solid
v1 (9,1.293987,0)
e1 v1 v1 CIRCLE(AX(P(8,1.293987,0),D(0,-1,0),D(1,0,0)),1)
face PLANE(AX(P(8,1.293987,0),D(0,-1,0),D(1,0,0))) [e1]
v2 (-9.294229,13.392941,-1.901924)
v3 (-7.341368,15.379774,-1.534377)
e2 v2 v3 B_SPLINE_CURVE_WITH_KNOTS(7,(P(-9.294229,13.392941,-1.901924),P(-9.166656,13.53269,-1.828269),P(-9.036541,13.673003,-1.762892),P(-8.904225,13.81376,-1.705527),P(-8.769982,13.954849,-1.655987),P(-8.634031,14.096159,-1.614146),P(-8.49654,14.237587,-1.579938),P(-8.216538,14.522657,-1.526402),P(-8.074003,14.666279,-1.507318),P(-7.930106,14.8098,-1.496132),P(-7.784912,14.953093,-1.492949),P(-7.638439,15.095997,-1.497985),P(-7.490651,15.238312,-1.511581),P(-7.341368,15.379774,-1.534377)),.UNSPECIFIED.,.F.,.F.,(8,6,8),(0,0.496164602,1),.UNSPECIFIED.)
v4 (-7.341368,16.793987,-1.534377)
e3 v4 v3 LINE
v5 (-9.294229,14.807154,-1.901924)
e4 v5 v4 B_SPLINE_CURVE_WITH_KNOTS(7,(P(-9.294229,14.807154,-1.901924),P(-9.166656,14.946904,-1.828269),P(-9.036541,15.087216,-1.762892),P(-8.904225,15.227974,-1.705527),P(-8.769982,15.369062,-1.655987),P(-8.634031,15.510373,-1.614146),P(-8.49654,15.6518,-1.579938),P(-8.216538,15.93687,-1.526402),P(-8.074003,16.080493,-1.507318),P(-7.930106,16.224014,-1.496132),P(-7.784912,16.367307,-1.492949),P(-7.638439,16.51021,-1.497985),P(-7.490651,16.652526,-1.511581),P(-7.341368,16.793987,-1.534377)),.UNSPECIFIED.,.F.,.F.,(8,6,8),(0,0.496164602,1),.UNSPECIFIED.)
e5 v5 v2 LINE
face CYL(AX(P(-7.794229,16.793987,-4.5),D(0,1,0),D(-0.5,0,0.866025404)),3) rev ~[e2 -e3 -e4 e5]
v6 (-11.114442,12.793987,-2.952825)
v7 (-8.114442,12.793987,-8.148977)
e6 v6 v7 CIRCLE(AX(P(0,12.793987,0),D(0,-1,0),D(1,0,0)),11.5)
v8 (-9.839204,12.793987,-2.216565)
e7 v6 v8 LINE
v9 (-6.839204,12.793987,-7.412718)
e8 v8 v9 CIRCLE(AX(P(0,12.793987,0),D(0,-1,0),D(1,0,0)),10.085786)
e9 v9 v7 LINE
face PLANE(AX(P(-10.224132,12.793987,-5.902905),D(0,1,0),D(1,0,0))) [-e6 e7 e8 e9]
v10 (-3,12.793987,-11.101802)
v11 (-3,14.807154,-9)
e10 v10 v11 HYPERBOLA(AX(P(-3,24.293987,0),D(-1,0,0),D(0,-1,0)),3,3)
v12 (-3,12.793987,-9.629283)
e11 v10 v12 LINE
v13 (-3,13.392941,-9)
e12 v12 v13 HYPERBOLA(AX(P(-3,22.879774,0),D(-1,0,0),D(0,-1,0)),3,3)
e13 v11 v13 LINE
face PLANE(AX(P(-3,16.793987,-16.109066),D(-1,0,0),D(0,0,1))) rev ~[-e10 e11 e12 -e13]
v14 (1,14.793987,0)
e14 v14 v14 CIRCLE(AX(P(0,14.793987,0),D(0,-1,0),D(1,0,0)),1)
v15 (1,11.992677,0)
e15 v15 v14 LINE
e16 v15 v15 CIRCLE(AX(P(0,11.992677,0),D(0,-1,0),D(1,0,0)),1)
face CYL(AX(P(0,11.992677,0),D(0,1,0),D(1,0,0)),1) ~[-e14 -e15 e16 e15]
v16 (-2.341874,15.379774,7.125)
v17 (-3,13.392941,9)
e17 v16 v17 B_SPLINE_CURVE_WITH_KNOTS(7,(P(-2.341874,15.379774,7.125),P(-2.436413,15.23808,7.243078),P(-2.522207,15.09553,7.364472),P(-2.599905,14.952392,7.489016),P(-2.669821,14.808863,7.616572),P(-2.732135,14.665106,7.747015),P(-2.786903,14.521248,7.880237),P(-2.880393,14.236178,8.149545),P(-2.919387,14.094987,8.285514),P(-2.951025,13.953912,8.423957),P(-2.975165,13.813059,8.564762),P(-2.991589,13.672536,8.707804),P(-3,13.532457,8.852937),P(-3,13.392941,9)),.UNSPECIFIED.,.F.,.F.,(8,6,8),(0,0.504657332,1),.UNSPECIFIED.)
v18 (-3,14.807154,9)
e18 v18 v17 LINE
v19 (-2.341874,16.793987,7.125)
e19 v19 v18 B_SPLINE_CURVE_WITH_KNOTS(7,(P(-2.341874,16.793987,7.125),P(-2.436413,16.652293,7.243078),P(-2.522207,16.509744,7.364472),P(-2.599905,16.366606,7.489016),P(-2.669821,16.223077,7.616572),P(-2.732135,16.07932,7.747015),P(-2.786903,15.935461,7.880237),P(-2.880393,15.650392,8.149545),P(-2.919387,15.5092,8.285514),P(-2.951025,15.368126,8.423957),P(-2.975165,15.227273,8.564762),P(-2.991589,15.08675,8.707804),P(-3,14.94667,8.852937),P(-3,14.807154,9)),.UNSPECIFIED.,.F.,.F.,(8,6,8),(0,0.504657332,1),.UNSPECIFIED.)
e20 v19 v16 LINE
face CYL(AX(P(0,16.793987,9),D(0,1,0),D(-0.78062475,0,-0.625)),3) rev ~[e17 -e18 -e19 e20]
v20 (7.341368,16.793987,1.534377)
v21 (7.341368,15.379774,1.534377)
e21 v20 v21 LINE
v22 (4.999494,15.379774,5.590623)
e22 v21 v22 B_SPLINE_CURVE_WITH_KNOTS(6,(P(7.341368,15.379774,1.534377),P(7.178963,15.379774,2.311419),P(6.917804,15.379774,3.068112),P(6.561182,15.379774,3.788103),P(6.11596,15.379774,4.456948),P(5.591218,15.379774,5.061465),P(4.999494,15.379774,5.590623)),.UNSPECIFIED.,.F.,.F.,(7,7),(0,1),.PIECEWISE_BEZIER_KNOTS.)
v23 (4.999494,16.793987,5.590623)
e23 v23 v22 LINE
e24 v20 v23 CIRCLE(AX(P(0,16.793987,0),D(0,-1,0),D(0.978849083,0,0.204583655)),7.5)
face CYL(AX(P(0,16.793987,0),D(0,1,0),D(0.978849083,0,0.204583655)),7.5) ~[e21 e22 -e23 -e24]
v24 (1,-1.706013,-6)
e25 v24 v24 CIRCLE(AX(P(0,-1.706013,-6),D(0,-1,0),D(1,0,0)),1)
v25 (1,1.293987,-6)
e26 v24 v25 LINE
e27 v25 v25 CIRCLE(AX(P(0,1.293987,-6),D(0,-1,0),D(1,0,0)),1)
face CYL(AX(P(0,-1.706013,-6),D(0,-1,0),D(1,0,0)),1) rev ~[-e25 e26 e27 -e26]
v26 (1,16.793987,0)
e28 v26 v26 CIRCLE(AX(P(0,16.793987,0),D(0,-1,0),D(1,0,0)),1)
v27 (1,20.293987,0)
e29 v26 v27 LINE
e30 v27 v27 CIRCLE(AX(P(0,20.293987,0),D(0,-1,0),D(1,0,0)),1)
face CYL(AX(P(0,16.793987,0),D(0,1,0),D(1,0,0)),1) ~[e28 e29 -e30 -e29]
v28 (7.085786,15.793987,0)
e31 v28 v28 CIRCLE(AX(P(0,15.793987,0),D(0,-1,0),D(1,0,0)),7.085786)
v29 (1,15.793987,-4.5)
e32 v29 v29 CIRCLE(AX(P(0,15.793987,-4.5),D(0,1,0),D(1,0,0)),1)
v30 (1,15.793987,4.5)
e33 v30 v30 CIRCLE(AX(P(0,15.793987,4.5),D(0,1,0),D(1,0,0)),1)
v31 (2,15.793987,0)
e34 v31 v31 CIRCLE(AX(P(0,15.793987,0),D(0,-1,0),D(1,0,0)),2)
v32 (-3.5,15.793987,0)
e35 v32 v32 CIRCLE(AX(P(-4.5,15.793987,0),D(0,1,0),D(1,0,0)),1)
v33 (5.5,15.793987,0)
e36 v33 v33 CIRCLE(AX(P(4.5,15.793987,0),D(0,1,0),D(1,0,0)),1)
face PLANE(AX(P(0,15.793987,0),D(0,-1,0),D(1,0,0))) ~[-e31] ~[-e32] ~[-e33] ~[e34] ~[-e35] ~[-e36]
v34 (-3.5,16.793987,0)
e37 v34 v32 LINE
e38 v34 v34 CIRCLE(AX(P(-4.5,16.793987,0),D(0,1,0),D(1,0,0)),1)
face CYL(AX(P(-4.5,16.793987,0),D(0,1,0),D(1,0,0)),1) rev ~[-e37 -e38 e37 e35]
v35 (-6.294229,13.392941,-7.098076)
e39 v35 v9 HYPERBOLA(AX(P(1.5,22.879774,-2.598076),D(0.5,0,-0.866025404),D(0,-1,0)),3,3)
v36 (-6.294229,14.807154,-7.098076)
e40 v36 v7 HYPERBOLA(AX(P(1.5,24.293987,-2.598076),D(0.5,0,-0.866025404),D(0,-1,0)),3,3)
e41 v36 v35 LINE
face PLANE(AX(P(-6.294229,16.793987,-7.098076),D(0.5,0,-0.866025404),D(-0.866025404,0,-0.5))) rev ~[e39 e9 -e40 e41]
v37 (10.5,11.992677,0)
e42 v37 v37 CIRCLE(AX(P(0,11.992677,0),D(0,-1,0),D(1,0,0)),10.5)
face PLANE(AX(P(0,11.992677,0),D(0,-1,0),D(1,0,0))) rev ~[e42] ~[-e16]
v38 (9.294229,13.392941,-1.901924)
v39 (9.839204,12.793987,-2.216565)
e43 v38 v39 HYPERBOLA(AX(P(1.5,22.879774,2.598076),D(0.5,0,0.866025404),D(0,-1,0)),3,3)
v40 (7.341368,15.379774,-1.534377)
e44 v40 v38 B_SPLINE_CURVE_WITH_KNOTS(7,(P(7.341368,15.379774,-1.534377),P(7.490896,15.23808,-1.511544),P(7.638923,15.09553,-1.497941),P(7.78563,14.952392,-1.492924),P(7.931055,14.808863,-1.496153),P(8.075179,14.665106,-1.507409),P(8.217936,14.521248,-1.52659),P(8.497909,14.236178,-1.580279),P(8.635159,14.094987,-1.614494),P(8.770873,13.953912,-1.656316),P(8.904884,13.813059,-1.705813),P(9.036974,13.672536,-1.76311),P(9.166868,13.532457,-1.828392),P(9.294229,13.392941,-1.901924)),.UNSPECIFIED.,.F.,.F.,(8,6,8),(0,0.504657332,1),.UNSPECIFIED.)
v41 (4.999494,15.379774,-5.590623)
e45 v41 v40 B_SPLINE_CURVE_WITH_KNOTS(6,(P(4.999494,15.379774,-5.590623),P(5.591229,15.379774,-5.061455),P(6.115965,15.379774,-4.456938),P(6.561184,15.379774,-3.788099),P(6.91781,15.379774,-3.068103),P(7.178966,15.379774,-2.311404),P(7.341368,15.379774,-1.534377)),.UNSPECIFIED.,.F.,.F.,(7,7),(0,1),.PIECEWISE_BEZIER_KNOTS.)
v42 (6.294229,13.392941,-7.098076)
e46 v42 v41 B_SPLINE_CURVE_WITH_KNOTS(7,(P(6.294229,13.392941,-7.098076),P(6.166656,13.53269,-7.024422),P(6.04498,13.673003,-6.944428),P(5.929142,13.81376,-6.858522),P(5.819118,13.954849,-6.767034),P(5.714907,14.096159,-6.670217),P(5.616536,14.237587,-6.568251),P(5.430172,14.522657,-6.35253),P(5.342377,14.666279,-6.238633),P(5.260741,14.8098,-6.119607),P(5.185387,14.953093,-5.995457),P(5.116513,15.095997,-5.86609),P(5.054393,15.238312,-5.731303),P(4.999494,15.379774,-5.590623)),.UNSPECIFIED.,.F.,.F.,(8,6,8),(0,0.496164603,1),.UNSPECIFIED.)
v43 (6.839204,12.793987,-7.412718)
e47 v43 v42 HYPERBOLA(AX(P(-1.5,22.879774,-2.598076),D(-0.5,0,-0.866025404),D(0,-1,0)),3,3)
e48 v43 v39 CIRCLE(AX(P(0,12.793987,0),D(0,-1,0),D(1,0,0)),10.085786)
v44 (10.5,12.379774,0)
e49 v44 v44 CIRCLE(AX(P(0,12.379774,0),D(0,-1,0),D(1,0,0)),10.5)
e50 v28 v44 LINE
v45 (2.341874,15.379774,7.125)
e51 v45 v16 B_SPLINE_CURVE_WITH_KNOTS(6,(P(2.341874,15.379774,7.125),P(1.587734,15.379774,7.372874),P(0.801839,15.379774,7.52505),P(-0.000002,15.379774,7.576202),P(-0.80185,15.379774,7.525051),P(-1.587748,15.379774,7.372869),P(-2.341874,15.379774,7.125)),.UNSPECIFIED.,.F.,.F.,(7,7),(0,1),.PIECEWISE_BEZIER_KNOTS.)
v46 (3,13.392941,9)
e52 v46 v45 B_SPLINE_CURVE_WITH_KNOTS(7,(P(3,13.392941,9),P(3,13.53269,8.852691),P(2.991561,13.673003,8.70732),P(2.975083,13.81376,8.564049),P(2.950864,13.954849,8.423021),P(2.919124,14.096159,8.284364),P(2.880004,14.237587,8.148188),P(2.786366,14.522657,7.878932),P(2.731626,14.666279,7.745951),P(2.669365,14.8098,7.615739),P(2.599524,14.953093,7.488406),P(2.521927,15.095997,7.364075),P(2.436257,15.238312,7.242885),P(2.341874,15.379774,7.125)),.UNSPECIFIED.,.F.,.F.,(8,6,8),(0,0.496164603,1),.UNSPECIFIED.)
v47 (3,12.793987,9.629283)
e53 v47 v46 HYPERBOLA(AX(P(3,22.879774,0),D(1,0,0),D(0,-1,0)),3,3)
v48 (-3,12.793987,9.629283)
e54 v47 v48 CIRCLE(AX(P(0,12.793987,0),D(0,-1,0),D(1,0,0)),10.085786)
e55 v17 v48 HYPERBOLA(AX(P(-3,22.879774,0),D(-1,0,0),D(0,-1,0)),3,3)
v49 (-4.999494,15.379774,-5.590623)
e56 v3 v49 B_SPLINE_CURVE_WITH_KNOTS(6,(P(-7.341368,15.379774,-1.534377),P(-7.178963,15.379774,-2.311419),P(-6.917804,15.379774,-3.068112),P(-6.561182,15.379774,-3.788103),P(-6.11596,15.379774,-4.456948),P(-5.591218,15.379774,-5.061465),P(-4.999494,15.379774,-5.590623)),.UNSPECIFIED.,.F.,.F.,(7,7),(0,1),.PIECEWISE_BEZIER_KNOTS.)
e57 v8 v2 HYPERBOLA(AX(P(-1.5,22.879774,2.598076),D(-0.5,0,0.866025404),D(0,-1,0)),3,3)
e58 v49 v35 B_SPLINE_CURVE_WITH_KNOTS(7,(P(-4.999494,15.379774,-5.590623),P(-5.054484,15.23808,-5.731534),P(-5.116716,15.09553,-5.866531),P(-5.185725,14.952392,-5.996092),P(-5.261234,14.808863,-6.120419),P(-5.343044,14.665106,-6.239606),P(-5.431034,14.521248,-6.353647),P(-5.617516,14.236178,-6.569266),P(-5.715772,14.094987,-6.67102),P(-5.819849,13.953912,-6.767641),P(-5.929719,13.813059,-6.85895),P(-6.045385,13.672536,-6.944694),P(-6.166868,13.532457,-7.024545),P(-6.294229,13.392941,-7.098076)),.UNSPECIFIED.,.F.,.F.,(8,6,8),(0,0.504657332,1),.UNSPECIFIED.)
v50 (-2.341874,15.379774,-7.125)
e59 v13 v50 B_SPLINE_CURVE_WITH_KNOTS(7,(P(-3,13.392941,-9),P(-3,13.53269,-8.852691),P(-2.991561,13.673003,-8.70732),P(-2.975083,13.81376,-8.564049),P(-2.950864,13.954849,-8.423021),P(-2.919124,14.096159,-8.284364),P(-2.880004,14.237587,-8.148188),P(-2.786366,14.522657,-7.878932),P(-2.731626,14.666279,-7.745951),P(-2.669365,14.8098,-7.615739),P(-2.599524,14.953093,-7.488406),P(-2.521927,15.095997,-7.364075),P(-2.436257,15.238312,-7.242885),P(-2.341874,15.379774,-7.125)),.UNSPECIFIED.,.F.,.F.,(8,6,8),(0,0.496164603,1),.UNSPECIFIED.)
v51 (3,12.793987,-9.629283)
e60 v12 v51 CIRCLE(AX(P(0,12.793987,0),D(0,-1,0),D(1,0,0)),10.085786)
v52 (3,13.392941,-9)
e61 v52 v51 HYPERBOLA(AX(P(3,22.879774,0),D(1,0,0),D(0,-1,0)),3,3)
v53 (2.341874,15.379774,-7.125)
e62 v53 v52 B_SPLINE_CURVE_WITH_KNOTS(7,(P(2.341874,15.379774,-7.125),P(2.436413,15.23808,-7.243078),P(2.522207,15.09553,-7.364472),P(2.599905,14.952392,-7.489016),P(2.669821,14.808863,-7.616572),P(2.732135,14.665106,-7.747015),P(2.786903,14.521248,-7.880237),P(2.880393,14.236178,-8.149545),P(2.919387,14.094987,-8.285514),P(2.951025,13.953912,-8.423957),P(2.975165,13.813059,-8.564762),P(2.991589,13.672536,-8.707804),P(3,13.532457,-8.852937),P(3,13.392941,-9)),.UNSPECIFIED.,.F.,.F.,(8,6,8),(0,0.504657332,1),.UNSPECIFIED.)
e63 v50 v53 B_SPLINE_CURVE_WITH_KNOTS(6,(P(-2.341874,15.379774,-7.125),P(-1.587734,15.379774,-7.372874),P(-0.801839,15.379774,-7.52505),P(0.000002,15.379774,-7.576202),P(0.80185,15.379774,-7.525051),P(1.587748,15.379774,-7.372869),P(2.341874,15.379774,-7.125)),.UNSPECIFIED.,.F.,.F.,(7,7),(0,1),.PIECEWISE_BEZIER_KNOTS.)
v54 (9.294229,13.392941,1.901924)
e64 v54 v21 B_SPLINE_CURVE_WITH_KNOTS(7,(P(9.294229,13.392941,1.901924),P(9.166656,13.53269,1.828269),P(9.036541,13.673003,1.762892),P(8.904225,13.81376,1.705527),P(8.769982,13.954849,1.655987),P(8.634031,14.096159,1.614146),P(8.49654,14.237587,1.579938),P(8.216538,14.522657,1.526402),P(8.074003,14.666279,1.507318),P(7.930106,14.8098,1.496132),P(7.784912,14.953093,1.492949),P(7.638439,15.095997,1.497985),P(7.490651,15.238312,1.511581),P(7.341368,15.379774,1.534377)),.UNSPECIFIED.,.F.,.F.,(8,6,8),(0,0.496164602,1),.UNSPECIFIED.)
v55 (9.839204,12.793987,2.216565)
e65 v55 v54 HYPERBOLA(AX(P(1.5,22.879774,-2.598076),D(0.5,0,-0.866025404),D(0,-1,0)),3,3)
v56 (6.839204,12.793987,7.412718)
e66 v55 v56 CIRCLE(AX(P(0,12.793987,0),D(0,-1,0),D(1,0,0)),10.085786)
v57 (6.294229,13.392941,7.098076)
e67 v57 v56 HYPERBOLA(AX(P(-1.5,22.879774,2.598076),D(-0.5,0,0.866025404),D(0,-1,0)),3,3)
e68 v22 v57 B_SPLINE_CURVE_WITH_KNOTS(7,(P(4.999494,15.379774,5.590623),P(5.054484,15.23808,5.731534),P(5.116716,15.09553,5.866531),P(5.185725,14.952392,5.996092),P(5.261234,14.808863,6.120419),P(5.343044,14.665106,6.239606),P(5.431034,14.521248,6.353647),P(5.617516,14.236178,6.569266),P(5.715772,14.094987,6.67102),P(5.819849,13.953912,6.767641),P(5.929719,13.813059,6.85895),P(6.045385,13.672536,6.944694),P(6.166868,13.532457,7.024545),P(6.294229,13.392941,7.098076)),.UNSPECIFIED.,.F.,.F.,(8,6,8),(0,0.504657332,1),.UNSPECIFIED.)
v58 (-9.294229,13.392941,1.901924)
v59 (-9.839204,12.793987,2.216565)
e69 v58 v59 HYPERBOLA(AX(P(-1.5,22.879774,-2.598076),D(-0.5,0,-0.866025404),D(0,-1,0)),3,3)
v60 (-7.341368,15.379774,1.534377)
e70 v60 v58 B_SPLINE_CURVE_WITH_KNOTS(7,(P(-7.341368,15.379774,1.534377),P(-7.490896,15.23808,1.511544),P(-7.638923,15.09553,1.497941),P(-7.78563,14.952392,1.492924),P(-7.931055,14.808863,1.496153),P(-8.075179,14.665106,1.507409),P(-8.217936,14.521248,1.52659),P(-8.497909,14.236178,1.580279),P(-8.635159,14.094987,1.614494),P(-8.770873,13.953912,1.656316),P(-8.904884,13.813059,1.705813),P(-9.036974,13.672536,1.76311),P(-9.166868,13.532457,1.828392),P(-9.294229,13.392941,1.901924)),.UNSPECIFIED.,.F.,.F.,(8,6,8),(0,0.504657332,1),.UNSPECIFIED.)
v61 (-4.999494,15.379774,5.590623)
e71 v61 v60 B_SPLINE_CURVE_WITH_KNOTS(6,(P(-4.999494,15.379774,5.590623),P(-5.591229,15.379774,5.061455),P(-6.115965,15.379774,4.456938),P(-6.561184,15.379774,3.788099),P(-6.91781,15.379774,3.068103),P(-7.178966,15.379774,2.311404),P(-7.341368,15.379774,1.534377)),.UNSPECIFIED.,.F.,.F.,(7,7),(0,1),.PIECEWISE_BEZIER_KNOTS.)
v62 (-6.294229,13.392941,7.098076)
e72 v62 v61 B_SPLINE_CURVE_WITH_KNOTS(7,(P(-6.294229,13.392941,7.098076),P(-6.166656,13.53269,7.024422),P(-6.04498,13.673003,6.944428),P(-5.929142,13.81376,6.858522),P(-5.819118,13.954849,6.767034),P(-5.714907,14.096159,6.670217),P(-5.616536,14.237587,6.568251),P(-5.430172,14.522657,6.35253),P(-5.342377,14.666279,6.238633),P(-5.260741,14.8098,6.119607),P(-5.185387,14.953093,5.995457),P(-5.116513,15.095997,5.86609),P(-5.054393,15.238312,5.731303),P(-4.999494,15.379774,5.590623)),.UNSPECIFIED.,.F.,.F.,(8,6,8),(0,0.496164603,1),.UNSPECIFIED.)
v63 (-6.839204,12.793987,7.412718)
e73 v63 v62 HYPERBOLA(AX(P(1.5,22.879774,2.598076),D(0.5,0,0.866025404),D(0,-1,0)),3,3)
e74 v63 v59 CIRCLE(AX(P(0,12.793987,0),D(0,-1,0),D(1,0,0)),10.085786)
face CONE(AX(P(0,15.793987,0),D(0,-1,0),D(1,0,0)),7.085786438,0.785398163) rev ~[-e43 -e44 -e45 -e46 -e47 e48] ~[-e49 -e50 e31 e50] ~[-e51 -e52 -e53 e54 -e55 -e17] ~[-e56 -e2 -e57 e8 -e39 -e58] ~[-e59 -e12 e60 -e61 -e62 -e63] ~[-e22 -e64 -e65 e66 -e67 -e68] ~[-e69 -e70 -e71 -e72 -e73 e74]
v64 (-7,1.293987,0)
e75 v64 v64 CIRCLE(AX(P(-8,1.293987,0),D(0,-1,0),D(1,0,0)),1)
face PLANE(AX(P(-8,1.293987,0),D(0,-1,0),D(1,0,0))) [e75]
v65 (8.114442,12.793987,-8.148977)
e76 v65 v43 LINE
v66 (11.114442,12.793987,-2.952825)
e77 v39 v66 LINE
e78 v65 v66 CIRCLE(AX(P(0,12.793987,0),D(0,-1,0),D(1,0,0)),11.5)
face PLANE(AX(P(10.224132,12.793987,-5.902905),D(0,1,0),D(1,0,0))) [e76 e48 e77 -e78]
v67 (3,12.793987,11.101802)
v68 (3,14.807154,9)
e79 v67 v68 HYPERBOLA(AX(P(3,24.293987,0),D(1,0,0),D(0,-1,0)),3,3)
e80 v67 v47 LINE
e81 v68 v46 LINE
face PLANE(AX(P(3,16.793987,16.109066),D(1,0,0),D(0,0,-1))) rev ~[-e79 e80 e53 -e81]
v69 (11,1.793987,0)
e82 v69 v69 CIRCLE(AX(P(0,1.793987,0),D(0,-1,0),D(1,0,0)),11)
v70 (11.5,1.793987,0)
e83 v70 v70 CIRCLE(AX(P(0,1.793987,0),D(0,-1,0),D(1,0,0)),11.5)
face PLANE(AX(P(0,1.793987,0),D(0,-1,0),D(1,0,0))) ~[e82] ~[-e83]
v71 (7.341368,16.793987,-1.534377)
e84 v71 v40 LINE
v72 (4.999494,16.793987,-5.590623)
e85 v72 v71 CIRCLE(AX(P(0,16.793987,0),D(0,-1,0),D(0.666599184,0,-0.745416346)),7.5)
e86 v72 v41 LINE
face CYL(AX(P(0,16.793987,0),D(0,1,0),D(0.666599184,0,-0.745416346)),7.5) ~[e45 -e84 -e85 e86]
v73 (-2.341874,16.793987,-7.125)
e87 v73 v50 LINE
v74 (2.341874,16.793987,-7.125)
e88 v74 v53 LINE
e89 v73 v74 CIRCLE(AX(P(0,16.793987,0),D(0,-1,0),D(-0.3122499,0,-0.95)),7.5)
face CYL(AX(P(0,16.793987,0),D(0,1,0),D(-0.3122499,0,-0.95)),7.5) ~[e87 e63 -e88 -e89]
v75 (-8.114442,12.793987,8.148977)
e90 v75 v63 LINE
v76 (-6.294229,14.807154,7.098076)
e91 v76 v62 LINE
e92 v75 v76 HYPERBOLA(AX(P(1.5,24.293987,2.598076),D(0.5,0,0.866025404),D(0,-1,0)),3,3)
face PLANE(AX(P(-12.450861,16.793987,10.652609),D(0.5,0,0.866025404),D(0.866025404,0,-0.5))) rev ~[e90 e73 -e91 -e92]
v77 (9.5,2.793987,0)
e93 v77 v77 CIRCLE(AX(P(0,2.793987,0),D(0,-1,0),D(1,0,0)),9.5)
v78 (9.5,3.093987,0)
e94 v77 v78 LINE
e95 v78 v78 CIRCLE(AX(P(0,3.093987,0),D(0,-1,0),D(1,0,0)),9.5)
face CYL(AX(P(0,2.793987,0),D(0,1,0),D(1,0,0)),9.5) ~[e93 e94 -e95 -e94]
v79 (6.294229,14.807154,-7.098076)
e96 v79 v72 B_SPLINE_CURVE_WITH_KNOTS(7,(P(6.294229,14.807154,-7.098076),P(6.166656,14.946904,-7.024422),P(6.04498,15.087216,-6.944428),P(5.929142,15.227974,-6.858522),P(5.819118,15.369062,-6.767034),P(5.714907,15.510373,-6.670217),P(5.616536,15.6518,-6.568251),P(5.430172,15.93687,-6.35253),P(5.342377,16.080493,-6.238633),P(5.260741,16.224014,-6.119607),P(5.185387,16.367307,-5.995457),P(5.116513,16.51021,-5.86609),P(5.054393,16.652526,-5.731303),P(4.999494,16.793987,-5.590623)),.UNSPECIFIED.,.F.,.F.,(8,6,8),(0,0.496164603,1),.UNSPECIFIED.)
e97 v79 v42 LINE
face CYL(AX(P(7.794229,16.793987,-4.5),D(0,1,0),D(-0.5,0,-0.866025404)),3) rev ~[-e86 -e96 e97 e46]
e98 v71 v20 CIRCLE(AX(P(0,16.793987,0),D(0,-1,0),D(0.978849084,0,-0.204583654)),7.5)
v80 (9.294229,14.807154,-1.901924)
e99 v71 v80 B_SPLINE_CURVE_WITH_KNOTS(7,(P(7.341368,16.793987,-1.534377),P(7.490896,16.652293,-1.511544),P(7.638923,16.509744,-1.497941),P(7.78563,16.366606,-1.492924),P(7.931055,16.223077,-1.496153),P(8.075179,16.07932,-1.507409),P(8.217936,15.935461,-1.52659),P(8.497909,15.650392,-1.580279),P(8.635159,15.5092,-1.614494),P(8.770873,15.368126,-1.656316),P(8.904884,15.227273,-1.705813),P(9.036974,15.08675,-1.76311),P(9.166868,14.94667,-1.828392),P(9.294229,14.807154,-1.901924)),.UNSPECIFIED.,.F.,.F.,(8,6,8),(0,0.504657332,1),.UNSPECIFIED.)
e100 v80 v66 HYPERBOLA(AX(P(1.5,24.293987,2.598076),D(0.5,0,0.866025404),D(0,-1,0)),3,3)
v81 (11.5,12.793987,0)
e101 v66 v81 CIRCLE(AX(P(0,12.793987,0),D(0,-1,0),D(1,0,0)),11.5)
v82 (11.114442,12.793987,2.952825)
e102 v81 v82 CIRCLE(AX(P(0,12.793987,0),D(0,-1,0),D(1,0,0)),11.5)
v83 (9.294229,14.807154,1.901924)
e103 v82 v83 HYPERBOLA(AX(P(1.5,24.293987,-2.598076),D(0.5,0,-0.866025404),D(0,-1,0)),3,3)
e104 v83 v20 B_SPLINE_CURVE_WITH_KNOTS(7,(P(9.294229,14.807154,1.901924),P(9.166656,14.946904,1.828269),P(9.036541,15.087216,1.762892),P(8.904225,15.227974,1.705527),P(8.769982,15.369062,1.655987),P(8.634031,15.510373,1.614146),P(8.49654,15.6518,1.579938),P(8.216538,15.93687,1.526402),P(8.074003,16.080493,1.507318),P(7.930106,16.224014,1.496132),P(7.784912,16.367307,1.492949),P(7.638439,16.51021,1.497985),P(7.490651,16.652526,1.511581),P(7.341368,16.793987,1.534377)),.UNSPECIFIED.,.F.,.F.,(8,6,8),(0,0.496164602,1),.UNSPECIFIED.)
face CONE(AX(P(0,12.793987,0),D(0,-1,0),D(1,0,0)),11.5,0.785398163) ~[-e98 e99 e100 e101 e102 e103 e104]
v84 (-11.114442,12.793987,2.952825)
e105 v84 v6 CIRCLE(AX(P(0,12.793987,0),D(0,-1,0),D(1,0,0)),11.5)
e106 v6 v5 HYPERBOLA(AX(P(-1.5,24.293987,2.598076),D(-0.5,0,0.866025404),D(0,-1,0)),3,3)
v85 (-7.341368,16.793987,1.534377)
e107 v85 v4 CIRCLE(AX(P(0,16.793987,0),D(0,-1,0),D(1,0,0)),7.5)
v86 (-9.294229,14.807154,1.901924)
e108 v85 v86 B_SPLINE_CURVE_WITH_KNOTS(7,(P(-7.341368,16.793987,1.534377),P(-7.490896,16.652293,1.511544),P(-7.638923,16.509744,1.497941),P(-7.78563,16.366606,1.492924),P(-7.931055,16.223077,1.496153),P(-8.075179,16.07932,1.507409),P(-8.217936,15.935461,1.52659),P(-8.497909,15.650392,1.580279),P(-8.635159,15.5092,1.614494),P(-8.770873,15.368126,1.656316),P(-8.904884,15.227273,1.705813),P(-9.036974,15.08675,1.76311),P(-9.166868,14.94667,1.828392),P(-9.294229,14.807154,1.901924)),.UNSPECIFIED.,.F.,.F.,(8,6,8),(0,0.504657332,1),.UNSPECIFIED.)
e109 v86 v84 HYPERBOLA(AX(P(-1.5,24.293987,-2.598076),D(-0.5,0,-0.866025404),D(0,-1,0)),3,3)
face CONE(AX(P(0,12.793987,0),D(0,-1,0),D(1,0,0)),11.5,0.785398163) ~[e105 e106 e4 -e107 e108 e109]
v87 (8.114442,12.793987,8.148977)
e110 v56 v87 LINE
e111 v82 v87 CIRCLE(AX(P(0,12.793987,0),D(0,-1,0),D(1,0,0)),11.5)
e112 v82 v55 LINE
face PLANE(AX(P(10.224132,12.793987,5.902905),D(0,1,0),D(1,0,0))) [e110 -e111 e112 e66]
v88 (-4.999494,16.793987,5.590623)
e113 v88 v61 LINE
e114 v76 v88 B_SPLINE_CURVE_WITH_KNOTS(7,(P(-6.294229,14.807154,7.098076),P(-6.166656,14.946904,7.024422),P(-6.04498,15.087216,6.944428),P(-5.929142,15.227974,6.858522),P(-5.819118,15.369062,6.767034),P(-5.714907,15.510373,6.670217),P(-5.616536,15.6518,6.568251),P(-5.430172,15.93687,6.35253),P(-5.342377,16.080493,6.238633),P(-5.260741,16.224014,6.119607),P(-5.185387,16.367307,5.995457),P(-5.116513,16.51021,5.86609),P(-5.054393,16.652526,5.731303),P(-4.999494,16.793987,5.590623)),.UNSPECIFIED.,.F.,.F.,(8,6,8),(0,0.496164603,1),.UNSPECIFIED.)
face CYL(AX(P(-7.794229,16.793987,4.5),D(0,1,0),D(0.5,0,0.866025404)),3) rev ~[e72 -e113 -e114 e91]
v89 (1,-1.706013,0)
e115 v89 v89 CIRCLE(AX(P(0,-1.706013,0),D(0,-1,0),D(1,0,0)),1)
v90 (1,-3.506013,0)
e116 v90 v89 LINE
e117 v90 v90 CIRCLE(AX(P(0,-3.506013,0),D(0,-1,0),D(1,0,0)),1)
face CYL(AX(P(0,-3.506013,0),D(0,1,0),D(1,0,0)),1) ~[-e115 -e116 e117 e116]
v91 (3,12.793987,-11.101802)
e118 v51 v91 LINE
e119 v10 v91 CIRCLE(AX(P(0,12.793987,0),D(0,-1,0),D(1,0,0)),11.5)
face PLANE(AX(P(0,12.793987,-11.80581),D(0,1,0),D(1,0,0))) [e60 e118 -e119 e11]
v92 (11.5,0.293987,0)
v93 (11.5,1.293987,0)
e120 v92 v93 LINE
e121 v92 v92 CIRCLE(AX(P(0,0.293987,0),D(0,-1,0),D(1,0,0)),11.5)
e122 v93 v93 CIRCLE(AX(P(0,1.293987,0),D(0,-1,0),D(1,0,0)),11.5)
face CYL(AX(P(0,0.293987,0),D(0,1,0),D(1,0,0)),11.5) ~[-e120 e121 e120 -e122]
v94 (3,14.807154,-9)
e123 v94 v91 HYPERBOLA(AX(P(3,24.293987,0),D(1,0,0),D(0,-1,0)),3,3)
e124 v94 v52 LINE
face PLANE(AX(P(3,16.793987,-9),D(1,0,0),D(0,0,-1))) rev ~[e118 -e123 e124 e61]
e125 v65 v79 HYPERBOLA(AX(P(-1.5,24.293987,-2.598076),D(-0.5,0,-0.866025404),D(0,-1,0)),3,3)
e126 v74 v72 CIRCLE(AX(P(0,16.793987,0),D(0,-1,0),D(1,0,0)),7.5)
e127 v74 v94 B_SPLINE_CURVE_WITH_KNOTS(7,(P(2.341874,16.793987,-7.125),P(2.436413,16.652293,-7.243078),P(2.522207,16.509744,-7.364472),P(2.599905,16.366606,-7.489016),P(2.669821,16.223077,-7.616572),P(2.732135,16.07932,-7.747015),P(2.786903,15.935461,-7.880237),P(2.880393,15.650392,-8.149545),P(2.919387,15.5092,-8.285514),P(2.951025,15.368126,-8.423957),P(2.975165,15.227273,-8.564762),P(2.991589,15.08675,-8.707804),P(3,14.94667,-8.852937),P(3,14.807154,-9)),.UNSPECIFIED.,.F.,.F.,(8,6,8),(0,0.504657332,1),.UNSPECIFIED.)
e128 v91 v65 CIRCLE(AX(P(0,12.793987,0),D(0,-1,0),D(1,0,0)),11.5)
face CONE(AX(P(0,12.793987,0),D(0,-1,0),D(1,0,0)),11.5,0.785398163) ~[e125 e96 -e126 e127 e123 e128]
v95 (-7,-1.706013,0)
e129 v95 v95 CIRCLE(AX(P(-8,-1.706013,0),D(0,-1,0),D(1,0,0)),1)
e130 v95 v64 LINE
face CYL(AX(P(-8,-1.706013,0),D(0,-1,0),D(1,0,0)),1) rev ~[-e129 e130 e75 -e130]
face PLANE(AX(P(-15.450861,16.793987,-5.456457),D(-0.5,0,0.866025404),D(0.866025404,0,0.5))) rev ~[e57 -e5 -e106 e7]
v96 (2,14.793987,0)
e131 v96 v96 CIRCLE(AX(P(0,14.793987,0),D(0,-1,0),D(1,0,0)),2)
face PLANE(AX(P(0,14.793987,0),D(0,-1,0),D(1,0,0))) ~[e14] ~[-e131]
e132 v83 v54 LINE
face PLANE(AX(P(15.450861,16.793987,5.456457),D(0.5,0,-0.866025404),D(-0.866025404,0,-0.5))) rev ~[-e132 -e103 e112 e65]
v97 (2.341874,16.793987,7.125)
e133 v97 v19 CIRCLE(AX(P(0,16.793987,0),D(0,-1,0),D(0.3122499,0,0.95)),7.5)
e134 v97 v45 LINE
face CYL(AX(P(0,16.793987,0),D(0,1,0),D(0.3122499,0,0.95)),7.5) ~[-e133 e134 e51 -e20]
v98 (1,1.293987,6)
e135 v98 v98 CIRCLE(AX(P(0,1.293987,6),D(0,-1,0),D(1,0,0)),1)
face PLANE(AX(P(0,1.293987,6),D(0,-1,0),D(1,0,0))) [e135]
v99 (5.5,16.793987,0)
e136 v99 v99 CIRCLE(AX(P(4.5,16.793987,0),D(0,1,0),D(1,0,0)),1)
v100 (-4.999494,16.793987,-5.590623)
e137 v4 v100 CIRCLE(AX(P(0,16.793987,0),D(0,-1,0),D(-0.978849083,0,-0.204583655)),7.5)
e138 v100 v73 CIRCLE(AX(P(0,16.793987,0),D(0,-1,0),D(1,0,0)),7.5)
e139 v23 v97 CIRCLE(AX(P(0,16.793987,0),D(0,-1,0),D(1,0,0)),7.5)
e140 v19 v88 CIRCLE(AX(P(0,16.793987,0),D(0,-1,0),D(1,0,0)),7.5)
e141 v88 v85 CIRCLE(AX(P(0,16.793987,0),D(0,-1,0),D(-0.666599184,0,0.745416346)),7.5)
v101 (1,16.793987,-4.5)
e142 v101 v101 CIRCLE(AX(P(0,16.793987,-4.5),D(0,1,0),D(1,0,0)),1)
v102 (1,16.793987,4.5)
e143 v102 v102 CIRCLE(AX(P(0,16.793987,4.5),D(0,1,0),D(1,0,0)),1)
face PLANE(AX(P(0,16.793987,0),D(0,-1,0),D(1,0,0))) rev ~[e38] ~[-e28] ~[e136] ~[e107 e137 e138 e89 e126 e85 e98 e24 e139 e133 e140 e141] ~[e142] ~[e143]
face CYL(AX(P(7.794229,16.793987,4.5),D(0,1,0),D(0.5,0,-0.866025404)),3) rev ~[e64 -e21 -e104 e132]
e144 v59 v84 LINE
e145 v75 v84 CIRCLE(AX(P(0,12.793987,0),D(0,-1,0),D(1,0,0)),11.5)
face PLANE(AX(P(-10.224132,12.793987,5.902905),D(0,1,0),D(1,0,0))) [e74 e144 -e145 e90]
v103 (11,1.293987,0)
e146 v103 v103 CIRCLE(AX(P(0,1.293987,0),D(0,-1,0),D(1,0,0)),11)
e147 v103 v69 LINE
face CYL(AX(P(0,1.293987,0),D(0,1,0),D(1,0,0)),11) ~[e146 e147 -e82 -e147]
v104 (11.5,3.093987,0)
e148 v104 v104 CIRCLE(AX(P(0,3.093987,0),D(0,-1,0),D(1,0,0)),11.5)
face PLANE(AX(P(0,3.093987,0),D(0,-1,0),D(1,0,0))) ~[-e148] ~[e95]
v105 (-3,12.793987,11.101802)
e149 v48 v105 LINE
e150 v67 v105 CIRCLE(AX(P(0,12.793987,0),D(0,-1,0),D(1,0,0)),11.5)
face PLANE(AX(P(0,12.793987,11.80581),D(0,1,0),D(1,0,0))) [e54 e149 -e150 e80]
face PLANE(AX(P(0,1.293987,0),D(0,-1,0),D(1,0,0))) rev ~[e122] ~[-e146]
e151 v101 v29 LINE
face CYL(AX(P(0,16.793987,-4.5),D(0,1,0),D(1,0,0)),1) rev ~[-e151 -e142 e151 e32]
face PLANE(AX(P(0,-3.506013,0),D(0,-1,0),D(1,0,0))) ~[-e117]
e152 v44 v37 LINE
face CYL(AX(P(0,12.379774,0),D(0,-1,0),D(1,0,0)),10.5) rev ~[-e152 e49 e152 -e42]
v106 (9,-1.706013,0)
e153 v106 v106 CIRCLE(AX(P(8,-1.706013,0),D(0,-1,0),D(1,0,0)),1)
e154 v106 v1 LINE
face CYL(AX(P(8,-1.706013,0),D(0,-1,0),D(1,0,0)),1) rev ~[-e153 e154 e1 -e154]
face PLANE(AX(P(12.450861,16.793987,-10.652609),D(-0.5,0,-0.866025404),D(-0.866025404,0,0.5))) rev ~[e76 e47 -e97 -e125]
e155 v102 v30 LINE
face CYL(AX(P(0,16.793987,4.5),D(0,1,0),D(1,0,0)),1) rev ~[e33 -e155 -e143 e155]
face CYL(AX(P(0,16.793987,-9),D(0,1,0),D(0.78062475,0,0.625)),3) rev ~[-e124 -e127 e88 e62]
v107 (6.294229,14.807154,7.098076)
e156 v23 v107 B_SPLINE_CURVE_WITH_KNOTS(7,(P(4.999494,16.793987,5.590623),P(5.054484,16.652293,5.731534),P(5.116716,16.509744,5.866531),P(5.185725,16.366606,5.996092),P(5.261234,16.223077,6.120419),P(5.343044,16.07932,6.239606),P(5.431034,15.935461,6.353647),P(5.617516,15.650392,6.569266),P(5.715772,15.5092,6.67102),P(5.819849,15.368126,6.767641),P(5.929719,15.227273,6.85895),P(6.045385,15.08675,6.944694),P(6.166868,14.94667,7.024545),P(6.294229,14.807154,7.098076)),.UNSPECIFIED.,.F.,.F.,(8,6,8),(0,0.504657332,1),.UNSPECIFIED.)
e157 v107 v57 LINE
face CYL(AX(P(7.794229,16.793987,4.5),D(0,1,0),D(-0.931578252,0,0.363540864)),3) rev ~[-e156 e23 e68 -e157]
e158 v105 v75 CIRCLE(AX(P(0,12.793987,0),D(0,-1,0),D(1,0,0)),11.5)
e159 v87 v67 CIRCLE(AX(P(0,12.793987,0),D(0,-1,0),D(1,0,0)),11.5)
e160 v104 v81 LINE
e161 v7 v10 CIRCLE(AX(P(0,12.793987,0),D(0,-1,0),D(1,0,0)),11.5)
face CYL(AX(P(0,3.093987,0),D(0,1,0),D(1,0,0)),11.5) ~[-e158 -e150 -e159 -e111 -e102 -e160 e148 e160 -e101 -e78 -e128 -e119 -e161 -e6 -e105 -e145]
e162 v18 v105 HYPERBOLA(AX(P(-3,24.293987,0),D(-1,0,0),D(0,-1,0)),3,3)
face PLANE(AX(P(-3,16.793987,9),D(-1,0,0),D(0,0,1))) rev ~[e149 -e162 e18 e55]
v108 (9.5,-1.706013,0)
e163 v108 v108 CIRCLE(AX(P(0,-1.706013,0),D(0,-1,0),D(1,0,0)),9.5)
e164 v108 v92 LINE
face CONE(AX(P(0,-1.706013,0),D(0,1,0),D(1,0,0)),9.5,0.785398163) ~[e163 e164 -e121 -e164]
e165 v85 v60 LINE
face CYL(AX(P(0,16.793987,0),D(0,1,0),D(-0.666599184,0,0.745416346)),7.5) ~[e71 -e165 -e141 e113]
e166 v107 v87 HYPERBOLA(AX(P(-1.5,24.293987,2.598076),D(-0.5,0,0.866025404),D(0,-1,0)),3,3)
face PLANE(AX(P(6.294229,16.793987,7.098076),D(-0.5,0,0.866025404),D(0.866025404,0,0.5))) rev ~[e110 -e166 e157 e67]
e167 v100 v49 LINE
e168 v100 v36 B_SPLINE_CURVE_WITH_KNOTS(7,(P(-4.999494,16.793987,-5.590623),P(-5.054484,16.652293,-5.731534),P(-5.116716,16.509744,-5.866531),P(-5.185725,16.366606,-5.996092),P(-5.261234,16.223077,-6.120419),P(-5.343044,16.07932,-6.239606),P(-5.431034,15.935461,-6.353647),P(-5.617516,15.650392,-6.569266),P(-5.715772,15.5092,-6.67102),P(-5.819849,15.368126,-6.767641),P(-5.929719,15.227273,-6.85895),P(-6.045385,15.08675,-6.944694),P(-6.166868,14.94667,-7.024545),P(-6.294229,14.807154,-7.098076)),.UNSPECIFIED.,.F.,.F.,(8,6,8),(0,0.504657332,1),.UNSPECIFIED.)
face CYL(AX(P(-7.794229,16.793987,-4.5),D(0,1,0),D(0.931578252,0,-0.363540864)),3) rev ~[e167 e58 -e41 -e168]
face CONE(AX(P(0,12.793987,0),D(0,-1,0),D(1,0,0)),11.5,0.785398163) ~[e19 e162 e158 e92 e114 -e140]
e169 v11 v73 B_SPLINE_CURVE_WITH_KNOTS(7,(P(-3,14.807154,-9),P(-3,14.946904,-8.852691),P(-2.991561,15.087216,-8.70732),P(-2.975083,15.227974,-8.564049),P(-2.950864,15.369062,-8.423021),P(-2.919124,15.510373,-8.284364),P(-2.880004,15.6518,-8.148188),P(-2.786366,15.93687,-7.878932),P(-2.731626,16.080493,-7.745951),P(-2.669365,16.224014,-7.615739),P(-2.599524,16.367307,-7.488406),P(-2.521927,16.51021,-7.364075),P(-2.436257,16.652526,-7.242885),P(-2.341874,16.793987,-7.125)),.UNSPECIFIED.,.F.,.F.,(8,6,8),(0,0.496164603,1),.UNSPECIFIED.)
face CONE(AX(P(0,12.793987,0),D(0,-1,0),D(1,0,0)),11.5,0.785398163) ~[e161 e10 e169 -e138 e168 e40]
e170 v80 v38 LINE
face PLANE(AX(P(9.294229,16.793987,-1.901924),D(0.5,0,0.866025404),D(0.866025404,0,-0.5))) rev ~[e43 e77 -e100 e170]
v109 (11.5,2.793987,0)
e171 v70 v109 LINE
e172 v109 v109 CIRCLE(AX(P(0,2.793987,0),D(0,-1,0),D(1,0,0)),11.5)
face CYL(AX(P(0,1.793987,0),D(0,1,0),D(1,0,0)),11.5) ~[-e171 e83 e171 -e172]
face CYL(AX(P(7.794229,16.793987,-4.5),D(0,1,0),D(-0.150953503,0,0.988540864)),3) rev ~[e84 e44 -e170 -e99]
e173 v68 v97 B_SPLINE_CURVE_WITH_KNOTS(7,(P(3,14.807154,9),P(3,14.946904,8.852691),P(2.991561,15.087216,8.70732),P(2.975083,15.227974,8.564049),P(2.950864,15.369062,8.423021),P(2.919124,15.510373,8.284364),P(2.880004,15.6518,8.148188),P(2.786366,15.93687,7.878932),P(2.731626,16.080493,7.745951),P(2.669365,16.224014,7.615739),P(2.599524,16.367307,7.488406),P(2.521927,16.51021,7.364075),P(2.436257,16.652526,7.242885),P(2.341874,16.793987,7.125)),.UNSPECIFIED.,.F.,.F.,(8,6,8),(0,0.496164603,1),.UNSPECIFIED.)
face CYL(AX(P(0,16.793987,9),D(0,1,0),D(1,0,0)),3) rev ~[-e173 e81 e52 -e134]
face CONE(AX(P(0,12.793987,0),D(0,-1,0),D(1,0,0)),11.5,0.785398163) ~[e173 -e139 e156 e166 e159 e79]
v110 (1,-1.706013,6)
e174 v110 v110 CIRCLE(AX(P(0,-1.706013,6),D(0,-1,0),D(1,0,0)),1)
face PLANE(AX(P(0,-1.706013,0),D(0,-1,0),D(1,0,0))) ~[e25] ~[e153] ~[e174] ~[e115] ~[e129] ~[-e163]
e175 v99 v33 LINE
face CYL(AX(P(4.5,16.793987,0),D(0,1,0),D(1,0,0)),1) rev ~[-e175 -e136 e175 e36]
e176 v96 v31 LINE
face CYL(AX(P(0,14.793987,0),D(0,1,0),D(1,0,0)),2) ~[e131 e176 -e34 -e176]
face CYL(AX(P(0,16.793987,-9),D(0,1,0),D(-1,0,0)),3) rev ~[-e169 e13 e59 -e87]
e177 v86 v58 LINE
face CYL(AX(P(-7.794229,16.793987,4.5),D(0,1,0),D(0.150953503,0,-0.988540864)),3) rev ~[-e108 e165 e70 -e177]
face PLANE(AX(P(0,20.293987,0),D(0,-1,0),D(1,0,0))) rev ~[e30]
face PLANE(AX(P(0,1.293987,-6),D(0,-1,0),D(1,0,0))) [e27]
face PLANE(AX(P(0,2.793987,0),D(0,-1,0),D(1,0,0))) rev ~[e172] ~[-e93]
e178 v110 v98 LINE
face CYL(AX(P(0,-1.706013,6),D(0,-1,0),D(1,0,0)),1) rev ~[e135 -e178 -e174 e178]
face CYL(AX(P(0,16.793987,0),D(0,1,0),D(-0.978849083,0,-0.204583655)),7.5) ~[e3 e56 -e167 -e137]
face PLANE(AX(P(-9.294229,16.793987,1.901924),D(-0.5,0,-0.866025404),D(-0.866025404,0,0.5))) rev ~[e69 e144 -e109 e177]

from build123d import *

# Parameters (mm, degrees)
SKETCH2_R          = 1
CUT_EXTRUDE1_DEPTH = 4
SKETCH3_R          = 1
CUT_EXTRUDE2_DEPTH = 3


with BuildPart() as part:
    # Sketch1 → Revolve1 (revolve)
    with BuildSketch(Plane.XY):
        Polygon((0, 20.293987171), (0, 0), (0, -3.506012829), (1, -3.506012829), (1, -1.706012829), (9.5, -1.706012829), (11.5, 0.293987171), (11.5, 1.293987171), (11, 1.293987171), (11, 1.793987171), (11.5, 1.793987171), (11.5, 2.793987171), (9.5, 2.793987171), (9.5, 3.093987171), (11.5, 3.093987171), (11.5, 12.793987171), (7.5, 16.793987171), (1, 16.793987171), (1, 20.293987171), align=None)
        Polygon((2, 15.793987171), (7.085786438, 15.793987171), (10.5, 12.379773609), (10.5, 11.992676837), (1, 11.992676837), (1, 14.793987171), (2, 14.793987171), align=None, mode=Mode.SUBTRACT)
    revolve(axis=Axis((0, 20.293987171, 0), (0, -1, 0)))

    # Sketch2 → Cut-Extrude1 (cut)
    with BuildSketch(Plane(origin=(0, 16.793987171, 0), x_dir=(1, 0, 0), z_dir=(0, 1, 0))):
        with BuildLine():
            ThreePointArc((-4.999493877, -5.590622592), (-6.495190528, -3.75), (-7.341368127, -1.534377408))
            ThreePointArc((-7.341368127, -1.534377408), (-8.349114086, -1.551762877), (-9.294228634, -1.901923789))
            Line((-9.294228634, -1.901923789), (-15.450860687, -5.456456962))
            Line((-15.450860687, -5.456456962), (-12.450860687, -10.652609385))
            Line((-12.450860687, -10.652609385), (-6.294228634, -7.098076211))
            ThreePointArc((-6.294228634, -7.098076211), (-5.518423115, -6.454663459), (-4.999493877, -5.590622592))
        make_face()
        with BuildLine():
            ThreePointArc((-7.341368127, 1.534377408), (-6.495190528, 3.75), (-4.999493877, 5.590622592))
            ThreePointArc((-4.999493877, 5.590622592), (-5.518423115, 6.454663459), (-6.294228634, 7.098076211))
            Line((-6.294228634, 7.098076211), (-12.450860687, 10.652609385))
            Line((-12.450860687, 10.652609385), (-15.450860687, 5.456456962))
            Line((-15.450860687, 5.456456962), (-9.294228634, 1.901923789))
            ThreePointArc((-9.294228634, 1.901923789), (-8.349114086, 1.551762877), (-7.341368127, 1.534377408))
        make_face()
        with BuildLine():
            Line((-3, 16.109066347), (-3, 9))
            ThreePointArc((-3, 9), (-2.830690971, 8.006426336), (-2.341874249, 7.125))
            ThreePointArc((-2.341874249, 7.125), (0, 7.5), (2.341874249, 7.125))
            ThreePointArc((2.341874249, 7.125), (2.830690971, 8.006426336), (3, 9))
            Line((3, 9), (3, 16.109066347))
            Line((3, 16.109066347), (-3, 16.109066347))
        make_face()
        with BuildLine():
            ThreePointArc((6.294228634, 7.098076211), (5.518423115, 6.454663459), (4.999493877, 5.590622592))
            ThreePointArc((4.999493877, 5.590622592), (6.495190528, 3.75), (7.341368127, 1.534377408))
            ThreePointArc((7.341368127, 1.534377408), (8.349114086, 1.551762877), (9.294228634, 1.901923789))
            Line((9.294228634, 1.901923789), (15.450860687, 5.456456962))
            Line((15.450860687, 5.456456962), (12.450860687, 10.652609385))
            Line((12.450860687, 10.652609385), (6.294228634, 7.098076211))
        make_face()
        with BuildLine():
            ThreePointArc((9.294228634, -1.901923789), (8.349114086, -1.551762877), (7.341368127, -1.534377408))
            ThreePointArc((7.341368127, -1.534377408), (6.495190528, -3.75), (4.999493877, -5.590622592))
            ThreePointArc((4.999493877, -5.590622592), (5.518423115, -6.454663459), (6.294228634, -7.098076211))
            Line((6.294228634, -7.098076211), (12.450860687, -10.652609385))
            Line((12.450860687, -10.652609385), (15.450860687, -5.456456962))
            Line((15.450860687, -5.456456962), (9.294228634, -1.901923789))
        make_face()
        with BuildLine():
            ThreePointArc((2.341874249, -7.125), (0, -7.5), (-2.341874249, -7.125))
            ThreePointArc((-2.341874249, -7.125), (-2.830690971, -8.006426336), (-3, -9))
            Line((-3, -9), (-3, -16.109066347))
            Line((-3, -16.109066347), (3, -16.109066347))
            Line((3, -16.109066347), (3, -9))
            ThreePointArc((3, -9), (2.830690971, -8.006426336), (2.341874249, -7.125))
        make_face()
        with Locations((0, -4.5)):
            Circle(SKETCH2_R)
        with Locations((-4.5, 0)):
            Circle(SKETCH2_R)
        with Locations((0, 4.5)):
            Circle(SKETCH2_R)
        with Locations((4.5, 0)):
            Circle(SKETCH2_R)
    extrude(amount=-CUT_EXTRUDE1_DEPTH, mode=Mode.SUBTRACT)

    # Sketch3 → Cut-Extrude2 (cut)
    with BuildSketch(Plane.XZ.offset(1.706012829)):
        with Locations((0, -6)):
            Circle(SKETCH3_R)
        with Locations((0, 6)):
            Circle(SKETCH3_R)
        with Locations((8, 0)):
            Circle(SKETCH3_R)
        with Locations((-8, 0)):
            Circle(SKETCH3_R)
    extrude(amount=-CUT_EXTRUDE2_DEPTH, mode=Mode.SUBTRACT)


solid = part.part
